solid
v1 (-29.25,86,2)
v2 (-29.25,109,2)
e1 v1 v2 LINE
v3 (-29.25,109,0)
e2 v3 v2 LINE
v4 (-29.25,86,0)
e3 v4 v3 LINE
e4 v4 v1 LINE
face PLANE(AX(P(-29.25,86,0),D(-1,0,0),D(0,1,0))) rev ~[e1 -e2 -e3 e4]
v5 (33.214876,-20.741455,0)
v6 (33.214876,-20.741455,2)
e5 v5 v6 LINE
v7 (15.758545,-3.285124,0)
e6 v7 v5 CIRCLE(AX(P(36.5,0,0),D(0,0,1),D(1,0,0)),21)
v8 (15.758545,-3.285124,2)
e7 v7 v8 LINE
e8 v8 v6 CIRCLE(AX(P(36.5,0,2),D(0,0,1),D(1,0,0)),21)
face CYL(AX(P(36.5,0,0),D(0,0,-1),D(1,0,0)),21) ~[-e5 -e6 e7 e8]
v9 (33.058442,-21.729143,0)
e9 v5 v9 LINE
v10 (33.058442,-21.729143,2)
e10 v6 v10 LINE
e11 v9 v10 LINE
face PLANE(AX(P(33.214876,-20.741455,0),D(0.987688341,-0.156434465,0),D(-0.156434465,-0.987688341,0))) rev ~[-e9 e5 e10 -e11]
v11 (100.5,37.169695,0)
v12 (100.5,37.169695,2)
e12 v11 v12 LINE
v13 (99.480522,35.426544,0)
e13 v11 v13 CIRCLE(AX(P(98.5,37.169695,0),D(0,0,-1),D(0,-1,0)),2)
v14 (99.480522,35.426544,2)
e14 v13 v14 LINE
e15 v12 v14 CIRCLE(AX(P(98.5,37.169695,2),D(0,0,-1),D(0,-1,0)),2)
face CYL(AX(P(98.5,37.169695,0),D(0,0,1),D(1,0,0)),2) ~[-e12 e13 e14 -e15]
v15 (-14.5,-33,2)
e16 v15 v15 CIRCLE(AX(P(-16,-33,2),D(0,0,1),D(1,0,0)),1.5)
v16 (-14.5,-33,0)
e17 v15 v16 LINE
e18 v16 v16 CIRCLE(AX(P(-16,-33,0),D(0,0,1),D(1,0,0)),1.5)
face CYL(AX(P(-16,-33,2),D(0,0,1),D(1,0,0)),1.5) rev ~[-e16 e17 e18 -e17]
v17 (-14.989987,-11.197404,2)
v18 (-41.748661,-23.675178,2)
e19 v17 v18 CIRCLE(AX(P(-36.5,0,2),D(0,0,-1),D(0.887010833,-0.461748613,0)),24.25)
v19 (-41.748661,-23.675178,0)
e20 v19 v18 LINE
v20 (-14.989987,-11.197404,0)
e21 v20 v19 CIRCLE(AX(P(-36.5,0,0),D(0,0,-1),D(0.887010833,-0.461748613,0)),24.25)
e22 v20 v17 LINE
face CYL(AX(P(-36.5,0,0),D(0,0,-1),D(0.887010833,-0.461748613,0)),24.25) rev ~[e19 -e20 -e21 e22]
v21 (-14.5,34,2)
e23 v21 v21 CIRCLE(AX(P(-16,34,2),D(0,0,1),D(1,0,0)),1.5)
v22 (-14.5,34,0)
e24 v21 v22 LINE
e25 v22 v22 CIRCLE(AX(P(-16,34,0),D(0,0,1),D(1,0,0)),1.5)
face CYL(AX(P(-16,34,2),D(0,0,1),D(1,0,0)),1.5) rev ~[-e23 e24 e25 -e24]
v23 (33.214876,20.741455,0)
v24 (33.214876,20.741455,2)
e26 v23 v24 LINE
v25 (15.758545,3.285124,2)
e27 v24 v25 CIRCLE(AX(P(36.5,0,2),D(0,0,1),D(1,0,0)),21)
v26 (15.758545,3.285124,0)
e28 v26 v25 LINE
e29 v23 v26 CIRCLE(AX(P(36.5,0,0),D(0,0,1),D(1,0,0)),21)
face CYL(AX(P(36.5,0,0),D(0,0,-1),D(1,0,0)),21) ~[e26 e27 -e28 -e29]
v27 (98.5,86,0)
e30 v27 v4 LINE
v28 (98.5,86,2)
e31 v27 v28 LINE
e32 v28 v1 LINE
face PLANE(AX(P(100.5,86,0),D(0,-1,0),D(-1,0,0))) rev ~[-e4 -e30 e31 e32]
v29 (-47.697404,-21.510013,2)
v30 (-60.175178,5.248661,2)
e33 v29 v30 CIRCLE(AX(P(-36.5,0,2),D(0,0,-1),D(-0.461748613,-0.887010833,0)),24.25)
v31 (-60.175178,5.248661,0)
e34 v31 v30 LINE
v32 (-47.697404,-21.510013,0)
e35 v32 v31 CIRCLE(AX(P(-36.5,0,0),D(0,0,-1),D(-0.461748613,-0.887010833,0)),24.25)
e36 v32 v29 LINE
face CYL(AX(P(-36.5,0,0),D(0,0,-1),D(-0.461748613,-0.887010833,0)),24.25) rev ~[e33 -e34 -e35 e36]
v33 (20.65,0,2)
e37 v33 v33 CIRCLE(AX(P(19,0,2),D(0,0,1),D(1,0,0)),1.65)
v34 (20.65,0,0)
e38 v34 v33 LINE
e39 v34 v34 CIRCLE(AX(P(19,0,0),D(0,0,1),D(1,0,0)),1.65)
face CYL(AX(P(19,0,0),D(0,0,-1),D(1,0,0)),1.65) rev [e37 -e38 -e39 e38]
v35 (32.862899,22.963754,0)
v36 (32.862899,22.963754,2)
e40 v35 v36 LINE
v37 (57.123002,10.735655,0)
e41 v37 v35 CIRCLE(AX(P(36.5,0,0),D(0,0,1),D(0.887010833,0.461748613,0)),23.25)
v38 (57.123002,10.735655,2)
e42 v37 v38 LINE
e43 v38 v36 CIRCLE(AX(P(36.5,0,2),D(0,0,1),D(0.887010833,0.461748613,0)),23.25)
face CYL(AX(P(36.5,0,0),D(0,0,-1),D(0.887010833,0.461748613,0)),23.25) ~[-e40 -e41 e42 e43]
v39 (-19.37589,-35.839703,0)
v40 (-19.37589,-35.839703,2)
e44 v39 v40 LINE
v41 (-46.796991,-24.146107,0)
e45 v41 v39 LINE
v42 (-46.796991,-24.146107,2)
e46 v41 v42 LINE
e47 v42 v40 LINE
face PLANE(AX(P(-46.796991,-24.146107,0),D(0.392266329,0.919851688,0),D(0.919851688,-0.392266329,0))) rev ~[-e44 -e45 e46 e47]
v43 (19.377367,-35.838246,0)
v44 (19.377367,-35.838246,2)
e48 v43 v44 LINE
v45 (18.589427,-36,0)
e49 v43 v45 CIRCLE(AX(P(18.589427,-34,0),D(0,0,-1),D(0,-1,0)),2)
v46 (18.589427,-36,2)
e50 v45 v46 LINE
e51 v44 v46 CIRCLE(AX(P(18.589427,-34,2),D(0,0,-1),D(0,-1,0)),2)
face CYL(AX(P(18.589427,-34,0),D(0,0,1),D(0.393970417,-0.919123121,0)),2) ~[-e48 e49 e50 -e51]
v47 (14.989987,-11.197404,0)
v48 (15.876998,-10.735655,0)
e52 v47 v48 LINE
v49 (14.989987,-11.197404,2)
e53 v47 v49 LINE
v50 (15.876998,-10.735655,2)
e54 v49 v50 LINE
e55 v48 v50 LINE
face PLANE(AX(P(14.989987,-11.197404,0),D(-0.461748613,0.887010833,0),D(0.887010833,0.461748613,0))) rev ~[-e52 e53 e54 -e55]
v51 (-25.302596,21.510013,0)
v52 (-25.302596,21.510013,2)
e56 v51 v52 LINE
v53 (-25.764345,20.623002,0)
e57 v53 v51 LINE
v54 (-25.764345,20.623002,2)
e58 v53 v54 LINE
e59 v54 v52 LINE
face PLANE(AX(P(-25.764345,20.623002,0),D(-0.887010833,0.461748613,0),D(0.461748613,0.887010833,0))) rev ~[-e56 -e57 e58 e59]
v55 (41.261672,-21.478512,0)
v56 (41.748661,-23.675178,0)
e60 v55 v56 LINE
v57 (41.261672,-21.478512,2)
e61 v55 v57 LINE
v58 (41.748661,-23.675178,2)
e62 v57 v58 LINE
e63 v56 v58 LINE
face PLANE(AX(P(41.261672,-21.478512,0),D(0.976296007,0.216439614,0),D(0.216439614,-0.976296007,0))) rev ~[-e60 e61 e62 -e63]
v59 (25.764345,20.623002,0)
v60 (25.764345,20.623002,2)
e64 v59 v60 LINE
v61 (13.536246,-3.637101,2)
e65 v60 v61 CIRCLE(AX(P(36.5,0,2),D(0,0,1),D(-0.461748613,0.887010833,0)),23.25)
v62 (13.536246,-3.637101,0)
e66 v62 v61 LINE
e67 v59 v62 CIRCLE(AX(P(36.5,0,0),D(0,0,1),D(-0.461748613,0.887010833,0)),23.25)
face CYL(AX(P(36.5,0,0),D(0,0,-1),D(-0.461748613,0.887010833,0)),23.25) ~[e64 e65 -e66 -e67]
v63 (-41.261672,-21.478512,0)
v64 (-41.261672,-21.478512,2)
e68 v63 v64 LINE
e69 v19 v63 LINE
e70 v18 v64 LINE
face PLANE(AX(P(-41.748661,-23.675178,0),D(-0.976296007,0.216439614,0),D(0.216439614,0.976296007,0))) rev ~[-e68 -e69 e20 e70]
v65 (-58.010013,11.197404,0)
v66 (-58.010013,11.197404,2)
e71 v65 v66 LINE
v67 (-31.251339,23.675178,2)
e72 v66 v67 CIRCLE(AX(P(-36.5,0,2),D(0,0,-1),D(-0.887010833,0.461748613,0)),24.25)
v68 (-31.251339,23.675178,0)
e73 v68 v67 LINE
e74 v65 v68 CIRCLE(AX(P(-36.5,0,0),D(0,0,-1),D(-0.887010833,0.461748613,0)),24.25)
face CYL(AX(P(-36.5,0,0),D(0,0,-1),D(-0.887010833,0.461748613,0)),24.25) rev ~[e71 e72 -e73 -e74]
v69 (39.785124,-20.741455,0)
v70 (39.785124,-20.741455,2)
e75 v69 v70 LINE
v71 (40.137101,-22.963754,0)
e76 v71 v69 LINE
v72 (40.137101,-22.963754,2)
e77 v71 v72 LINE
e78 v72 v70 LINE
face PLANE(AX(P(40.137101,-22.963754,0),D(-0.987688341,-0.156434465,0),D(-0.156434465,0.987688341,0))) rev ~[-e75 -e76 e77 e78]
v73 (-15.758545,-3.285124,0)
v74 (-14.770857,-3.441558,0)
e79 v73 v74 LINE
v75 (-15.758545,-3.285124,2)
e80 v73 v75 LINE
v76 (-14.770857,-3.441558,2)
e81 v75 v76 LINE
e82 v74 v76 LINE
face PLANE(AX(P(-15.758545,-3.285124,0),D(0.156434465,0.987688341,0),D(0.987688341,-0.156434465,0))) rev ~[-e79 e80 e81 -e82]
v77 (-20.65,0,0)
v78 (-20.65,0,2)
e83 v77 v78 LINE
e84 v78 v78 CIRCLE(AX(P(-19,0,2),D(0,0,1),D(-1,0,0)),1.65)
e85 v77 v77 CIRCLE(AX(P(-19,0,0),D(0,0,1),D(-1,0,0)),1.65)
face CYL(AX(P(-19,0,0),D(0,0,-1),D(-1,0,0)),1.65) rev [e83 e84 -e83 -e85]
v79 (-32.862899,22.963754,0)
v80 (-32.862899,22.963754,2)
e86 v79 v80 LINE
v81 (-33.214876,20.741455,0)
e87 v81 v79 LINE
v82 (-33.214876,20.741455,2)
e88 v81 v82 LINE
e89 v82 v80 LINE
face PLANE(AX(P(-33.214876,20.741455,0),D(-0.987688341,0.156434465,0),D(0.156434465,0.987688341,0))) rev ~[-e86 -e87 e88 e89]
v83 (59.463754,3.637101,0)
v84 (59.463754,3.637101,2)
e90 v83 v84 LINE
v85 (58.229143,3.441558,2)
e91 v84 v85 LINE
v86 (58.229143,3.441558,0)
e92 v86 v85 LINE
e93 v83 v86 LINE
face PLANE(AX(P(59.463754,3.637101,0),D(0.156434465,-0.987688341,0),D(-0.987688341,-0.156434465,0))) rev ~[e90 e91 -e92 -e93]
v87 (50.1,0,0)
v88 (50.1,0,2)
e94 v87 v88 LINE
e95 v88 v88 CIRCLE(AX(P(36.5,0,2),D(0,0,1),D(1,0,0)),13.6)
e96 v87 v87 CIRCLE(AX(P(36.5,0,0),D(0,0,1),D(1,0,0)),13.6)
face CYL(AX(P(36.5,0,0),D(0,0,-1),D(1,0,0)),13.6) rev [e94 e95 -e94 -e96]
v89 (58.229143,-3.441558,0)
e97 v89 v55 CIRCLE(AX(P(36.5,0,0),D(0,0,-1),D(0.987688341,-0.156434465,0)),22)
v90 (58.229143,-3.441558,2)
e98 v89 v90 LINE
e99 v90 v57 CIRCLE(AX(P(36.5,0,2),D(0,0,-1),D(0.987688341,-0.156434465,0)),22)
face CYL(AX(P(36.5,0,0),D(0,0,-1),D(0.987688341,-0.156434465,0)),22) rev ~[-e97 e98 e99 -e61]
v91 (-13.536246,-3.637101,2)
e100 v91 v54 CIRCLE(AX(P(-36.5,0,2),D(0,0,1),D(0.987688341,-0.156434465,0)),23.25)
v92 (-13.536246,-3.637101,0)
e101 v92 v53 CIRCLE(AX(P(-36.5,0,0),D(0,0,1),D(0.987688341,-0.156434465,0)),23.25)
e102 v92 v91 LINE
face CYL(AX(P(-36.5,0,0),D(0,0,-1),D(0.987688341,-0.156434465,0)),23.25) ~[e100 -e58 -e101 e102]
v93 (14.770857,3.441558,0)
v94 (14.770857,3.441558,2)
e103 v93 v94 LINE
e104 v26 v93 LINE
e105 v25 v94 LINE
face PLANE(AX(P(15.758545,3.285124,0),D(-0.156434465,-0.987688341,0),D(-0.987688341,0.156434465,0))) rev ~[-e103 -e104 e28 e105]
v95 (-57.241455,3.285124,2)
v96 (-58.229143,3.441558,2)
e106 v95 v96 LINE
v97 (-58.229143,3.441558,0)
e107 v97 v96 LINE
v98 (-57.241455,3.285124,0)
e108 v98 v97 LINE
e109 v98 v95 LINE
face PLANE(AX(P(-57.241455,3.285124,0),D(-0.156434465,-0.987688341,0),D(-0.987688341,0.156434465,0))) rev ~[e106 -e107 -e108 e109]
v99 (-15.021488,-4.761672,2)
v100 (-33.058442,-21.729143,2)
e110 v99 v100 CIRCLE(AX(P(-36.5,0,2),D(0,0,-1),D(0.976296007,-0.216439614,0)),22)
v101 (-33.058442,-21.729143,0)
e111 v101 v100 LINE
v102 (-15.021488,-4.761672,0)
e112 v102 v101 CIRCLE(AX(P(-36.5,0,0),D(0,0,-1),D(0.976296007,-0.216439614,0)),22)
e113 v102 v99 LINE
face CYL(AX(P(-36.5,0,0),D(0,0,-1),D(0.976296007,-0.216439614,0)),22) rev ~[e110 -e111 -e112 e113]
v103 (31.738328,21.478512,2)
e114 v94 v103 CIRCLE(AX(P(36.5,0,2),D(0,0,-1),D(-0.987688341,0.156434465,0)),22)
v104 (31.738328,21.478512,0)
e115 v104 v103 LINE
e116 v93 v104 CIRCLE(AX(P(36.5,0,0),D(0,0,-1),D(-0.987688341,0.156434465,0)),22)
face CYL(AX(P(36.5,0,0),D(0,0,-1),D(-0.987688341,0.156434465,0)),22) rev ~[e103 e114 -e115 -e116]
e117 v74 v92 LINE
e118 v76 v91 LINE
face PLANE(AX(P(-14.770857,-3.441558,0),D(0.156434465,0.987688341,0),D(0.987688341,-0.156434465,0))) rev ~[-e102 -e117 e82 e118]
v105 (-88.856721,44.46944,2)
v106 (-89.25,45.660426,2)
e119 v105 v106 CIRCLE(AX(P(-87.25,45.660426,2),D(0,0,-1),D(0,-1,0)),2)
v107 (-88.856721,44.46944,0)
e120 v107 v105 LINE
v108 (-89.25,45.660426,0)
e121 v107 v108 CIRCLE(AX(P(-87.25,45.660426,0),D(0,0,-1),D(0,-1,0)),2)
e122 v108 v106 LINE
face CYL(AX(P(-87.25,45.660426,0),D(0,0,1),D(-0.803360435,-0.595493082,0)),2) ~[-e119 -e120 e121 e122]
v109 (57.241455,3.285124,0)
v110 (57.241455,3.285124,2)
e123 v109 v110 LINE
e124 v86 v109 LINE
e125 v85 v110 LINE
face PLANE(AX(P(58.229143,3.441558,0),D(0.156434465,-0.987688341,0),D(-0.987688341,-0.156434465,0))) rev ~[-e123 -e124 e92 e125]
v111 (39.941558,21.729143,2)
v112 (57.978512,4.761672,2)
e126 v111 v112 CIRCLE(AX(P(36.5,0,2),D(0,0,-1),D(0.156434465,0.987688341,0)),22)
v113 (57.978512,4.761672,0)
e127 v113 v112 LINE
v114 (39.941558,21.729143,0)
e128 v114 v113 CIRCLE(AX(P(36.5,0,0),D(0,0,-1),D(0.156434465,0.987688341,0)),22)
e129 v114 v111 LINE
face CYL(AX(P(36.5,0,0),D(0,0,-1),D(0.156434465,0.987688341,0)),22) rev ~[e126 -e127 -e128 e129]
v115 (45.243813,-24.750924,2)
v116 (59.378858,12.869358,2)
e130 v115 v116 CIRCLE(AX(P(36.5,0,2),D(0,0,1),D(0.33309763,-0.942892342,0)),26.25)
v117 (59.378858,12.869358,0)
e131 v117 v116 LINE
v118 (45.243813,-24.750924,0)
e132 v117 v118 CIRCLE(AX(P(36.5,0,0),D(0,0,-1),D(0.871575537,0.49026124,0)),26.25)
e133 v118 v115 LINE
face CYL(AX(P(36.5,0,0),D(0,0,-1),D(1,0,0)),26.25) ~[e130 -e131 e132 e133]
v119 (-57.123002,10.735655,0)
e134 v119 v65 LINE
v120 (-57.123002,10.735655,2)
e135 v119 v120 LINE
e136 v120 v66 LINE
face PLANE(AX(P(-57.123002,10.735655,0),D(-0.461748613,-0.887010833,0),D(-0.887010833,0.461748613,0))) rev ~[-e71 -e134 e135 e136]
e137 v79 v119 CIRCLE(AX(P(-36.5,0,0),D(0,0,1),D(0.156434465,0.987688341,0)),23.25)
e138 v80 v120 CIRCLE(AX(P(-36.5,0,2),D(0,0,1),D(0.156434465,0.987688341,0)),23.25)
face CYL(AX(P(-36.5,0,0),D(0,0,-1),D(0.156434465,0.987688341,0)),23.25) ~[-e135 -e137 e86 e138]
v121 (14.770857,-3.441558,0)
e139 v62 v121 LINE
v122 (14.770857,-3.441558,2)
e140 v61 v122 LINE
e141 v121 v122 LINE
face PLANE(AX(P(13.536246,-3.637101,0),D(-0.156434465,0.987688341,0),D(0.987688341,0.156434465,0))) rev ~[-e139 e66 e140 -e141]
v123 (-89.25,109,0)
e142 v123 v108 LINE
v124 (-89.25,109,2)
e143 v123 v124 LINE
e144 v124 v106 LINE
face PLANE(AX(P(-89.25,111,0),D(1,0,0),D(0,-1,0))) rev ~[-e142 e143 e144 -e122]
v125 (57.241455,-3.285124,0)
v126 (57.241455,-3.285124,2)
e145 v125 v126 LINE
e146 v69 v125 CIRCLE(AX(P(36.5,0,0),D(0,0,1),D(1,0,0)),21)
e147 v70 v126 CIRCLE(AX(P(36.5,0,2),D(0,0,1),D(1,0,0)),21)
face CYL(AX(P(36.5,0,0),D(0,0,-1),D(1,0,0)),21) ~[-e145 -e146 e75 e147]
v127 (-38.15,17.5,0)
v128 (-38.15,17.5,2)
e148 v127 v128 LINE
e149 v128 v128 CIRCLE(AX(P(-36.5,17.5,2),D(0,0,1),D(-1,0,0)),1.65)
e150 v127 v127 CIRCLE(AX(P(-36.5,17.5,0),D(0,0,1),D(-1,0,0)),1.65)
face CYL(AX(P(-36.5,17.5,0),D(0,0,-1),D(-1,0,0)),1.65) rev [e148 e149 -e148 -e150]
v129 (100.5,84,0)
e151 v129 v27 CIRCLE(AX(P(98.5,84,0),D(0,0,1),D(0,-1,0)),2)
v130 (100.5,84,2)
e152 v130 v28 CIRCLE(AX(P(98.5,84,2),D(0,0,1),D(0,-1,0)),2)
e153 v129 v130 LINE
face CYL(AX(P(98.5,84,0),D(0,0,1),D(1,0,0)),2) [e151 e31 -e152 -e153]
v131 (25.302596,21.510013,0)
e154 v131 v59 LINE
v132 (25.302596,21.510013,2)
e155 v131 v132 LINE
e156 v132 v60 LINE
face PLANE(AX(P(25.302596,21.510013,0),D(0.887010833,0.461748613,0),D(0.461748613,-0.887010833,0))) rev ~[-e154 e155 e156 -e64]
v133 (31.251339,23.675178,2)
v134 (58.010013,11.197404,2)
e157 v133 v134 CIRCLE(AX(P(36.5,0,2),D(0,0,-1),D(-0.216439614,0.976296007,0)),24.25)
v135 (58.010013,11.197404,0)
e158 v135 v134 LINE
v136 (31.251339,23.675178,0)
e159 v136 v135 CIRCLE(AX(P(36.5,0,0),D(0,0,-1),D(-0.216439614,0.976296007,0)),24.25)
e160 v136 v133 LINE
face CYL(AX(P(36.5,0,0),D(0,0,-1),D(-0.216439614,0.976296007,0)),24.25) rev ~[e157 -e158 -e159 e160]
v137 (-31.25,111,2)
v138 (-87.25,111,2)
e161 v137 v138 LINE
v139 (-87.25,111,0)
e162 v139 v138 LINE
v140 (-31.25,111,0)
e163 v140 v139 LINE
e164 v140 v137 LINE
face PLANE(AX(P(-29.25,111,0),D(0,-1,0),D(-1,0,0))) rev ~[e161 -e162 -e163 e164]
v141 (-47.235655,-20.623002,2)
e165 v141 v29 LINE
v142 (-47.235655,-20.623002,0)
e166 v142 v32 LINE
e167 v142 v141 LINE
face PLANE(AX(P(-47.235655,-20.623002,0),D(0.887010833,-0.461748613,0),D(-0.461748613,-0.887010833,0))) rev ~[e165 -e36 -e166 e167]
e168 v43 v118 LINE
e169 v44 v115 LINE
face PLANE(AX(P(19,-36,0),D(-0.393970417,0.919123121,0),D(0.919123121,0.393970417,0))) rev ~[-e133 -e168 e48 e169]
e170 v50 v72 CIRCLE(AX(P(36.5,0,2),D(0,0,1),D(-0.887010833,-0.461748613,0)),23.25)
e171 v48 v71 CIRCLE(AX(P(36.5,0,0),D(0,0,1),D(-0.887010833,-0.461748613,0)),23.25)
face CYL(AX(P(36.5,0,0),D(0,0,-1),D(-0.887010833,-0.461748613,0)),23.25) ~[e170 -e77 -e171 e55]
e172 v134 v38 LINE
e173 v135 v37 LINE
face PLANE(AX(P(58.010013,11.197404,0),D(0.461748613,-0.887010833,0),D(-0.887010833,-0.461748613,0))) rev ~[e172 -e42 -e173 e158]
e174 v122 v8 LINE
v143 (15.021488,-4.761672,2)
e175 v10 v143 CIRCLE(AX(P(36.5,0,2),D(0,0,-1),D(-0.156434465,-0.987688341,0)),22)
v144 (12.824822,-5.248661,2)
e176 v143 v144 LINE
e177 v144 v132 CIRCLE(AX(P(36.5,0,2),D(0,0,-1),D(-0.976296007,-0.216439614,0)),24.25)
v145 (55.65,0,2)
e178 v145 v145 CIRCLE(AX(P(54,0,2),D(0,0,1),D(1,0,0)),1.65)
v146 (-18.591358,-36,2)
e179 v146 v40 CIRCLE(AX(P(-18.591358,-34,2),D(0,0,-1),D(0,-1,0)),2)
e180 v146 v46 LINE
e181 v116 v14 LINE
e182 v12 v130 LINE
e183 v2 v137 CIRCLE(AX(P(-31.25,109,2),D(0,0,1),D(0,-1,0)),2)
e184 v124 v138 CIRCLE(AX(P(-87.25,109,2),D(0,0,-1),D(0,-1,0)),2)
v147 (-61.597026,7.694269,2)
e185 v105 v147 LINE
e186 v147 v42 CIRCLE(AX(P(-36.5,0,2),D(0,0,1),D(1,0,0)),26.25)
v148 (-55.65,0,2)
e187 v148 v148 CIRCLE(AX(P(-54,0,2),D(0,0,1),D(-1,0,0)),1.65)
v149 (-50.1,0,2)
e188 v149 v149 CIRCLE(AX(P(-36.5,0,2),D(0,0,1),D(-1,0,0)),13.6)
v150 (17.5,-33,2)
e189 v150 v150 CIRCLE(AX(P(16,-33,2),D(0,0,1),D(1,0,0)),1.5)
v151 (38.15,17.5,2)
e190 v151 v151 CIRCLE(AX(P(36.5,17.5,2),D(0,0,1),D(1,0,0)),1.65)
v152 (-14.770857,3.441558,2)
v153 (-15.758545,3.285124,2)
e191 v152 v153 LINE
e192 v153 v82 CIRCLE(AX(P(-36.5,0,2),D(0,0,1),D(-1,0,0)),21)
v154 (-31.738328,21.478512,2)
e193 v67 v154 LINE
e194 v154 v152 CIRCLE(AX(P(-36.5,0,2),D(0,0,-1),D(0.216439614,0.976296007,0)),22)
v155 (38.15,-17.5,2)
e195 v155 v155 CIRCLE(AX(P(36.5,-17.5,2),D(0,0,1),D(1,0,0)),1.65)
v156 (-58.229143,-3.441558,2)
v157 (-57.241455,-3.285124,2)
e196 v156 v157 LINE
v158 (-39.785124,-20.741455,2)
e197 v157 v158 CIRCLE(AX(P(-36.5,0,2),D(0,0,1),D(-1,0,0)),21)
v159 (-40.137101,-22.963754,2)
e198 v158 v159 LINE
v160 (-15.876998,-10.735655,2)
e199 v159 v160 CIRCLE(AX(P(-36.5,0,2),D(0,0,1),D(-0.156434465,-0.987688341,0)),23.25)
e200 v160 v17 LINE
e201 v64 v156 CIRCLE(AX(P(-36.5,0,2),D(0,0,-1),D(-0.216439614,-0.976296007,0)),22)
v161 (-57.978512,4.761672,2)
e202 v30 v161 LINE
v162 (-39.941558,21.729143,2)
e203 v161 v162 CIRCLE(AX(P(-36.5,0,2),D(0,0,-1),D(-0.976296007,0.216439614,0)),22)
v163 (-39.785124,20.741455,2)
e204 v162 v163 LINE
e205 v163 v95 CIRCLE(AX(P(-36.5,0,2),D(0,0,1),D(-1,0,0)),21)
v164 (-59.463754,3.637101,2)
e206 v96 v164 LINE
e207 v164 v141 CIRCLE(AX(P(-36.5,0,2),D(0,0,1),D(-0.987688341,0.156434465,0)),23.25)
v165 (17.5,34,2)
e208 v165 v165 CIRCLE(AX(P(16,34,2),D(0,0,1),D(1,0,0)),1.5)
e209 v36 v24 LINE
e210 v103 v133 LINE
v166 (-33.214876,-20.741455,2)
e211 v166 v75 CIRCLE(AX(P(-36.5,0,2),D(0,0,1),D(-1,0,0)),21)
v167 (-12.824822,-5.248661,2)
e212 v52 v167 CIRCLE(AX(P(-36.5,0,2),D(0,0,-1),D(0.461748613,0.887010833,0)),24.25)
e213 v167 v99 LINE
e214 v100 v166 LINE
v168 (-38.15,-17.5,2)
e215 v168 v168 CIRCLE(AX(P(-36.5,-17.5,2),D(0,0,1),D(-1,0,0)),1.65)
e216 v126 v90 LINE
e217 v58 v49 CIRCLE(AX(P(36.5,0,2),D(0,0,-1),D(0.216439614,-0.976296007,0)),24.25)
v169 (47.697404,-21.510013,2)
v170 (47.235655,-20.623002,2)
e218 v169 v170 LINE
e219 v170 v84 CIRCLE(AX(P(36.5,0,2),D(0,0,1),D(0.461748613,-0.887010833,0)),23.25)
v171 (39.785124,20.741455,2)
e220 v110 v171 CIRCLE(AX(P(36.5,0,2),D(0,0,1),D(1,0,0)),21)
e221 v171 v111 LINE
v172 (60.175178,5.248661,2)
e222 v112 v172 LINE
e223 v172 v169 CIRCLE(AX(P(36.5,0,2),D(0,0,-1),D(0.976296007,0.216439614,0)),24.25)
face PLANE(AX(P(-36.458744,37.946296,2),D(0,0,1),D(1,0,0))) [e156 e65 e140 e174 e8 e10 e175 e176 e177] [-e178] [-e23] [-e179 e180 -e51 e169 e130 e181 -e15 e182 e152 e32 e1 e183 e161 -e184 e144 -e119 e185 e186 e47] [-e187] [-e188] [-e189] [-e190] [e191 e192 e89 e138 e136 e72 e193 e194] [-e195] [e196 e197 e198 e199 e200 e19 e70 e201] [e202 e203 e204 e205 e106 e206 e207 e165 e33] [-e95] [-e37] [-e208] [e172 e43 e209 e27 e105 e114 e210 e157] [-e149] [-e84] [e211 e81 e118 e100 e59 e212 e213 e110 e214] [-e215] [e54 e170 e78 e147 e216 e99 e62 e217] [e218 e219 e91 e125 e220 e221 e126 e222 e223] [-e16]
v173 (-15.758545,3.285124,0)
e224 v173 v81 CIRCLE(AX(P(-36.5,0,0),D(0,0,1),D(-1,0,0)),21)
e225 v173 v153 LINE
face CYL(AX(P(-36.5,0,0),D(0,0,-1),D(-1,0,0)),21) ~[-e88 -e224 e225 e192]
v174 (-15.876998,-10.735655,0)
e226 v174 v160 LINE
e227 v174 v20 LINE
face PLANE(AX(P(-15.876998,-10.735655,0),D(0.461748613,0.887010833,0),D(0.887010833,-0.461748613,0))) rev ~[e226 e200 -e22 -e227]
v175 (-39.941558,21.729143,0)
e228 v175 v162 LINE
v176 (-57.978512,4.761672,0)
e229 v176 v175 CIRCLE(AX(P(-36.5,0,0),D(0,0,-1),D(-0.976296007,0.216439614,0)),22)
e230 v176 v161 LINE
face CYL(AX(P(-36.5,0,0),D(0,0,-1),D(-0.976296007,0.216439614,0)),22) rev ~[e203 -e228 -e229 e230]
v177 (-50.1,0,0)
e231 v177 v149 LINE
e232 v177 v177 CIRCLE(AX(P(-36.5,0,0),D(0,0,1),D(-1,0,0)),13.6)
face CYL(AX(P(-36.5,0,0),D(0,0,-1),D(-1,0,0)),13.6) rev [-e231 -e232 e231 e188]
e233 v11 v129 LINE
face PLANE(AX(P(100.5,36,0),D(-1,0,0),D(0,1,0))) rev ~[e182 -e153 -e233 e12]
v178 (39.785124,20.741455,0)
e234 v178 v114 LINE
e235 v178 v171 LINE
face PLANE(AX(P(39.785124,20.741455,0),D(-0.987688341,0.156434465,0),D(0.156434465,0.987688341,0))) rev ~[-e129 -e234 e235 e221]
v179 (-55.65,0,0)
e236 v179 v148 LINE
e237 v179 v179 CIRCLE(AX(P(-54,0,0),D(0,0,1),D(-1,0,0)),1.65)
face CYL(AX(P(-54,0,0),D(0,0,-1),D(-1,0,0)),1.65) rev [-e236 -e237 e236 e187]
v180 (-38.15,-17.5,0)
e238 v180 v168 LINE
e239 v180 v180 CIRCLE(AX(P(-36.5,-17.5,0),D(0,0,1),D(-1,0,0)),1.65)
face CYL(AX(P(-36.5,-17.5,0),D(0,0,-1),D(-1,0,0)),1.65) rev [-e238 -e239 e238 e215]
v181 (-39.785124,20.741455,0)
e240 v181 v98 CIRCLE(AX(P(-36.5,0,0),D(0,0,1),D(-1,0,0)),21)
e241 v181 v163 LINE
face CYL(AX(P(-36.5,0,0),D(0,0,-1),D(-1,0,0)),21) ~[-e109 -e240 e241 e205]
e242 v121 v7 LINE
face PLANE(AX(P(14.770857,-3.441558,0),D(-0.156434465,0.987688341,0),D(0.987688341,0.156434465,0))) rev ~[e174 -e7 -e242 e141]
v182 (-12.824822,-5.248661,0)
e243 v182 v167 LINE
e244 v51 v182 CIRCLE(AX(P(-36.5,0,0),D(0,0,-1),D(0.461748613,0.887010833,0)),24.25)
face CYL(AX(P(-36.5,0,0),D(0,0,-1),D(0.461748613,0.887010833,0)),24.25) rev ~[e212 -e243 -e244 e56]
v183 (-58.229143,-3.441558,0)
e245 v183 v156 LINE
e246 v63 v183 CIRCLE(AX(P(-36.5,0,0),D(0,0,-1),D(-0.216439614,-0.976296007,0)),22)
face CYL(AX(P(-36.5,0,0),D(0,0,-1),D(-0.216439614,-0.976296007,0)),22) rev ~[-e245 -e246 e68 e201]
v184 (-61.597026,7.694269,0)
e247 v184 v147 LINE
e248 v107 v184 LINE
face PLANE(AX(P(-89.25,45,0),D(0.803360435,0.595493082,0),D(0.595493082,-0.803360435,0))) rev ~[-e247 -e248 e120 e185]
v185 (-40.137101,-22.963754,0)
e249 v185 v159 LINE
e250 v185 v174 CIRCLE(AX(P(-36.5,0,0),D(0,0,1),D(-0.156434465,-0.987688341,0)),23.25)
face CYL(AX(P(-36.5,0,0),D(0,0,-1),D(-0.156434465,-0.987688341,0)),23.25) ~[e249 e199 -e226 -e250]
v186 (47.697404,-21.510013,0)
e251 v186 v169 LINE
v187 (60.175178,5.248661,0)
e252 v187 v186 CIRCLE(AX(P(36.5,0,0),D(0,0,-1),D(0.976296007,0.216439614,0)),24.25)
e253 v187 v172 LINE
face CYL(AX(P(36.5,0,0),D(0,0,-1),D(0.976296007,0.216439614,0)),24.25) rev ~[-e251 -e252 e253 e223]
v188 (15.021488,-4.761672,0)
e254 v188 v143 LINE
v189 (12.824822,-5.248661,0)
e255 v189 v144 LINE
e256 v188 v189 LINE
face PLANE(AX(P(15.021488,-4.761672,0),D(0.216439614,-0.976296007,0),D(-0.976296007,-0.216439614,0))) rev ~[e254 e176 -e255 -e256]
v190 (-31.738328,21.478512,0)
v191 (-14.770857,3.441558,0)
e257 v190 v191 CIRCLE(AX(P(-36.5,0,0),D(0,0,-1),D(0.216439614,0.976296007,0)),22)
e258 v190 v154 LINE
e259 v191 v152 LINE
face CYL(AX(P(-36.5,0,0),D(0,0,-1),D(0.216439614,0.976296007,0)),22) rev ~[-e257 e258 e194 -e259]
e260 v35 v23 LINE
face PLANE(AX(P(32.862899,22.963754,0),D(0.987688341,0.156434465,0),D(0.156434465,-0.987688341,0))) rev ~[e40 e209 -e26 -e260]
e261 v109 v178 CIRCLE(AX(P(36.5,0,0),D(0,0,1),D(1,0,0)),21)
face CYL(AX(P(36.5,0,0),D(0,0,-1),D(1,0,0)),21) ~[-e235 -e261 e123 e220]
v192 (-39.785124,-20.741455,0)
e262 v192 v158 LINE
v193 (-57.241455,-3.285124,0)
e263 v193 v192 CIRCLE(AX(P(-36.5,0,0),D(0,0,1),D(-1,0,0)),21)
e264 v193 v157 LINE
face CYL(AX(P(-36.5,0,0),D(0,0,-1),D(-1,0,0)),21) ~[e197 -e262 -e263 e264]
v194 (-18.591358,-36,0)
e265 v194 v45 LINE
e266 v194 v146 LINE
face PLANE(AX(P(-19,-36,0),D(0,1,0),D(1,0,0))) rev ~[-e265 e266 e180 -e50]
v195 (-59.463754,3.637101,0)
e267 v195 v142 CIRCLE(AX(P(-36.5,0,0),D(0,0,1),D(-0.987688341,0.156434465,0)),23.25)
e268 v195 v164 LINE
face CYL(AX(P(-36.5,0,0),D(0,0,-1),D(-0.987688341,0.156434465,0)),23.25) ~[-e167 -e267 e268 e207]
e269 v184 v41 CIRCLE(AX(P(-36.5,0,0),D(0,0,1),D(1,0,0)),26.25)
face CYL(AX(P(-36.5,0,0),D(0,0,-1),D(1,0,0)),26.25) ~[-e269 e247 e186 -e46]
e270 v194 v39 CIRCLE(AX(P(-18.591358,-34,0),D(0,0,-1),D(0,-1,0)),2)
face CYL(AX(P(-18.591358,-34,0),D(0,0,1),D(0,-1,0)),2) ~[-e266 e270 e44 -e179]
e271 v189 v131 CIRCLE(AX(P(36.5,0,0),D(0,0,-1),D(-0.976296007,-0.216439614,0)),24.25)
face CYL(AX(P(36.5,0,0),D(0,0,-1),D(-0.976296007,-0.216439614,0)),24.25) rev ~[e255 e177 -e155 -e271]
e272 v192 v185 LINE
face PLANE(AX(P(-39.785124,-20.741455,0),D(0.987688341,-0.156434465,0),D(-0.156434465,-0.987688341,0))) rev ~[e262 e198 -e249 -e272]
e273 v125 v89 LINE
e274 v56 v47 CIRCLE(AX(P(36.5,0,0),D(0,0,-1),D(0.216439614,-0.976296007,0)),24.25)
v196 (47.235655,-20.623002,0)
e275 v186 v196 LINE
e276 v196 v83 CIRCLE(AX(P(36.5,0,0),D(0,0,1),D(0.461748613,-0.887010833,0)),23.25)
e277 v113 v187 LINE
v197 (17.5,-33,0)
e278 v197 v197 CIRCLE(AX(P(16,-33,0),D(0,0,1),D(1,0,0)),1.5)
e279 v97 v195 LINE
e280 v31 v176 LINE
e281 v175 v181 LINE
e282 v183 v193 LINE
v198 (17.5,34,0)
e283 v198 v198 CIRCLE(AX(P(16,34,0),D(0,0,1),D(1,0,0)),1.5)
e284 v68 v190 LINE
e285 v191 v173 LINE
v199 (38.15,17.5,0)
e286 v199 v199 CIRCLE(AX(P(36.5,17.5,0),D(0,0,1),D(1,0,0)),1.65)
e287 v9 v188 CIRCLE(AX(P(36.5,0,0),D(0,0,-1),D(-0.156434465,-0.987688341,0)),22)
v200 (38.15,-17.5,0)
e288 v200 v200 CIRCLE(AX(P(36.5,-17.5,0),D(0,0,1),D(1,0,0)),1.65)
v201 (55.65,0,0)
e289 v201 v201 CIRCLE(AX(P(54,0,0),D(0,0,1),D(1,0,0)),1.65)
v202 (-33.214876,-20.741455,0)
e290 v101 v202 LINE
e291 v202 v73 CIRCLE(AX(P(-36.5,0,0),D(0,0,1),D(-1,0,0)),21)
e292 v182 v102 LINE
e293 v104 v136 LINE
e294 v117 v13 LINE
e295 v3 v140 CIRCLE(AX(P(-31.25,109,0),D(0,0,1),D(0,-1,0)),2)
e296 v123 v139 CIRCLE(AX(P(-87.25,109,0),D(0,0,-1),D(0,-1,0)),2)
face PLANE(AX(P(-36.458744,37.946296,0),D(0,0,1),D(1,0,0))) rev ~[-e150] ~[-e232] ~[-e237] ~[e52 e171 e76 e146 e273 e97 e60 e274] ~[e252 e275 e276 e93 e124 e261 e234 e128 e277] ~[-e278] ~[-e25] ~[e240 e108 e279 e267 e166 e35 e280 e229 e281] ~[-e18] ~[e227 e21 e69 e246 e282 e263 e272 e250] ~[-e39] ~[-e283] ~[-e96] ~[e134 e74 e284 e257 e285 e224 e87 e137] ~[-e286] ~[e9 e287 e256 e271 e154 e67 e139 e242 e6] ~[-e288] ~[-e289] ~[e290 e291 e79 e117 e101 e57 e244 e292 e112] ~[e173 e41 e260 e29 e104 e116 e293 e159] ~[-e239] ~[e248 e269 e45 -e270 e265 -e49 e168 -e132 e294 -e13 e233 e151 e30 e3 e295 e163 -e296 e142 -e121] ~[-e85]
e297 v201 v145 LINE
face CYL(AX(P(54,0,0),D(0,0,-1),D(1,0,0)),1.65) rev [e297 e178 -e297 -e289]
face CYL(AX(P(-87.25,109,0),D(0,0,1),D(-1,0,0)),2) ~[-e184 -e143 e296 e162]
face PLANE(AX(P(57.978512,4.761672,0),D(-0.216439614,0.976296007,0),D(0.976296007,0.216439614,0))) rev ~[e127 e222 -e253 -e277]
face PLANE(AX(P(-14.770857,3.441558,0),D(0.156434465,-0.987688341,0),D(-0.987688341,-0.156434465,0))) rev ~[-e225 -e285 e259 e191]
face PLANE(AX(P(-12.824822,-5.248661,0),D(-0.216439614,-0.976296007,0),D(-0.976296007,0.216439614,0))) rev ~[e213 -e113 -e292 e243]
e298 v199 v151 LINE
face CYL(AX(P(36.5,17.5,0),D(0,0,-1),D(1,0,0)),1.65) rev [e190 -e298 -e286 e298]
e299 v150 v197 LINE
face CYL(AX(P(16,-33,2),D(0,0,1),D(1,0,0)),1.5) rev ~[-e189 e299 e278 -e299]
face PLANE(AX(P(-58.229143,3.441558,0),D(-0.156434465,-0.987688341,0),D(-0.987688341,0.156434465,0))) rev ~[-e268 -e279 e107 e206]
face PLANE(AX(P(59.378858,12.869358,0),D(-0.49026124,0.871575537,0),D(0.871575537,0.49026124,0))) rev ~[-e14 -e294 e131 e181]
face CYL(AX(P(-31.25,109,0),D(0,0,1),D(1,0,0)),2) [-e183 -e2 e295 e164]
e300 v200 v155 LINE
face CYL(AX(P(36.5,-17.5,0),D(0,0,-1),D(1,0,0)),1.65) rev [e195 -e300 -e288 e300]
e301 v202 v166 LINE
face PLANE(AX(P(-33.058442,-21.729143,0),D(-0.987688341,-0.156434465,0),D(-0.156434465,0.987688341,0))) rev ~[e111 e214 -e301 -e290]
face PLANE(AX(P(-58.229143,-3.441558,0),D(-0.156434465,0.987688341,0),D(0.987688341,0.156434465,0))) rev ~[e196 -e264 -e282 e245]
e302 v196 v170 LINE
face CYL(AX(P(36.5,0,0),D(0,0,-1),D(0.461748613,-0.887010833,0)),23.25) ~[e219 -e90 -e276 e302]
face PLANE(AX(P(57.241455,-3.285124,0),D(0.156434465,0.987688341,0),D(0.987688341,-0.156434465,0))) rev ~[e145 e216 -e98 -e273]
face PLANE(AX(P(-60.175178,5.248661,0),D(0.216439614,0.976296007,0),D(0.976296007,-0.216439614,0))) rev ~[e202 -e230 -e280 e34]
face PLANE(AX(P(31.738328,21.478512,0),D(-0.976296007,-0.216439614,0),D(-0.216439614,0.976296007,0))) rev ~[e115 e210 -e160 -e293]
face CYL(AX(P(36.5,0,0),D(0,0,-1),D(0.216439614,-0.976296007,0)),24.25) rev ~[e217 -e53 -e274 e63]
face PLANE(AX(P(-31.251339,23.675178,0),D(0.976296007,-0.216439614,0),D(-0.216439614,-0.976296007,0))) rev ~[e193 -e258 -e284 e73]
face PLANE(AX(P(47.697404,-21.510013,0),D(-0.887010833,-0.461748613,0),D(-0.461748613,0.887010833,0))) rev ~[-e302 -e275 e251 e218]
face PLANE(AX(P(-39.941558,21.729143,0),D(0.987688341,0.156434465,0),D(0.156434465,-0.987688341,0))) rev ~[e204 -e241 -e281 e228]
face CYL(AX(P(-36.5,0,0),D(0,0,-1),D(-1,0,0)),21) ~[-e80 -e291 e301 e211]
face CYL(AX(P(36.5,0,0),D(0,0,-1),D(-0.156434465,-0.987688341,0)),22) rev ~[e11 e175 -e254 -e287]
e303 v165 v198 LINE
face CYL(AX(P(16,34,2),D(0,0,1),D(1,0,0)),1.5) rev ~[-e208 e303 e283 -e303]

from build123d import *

# Parameters (mm, degrees)
SKETCH_1_R          = 21
SKETCH_1_R_2        = 13.6
SKETCH_1_R_3        = 1.65
EXTRUDE_1_DEPTH     = 2
EXTRUDE_1_2_DEPTH   = 2
SKETCH_2_R          = 26.25
EXTRUDE_3_DEPTH     = 2
EXTRUDE_4_DEPTH     = 2
FILLET_1_R          = 2
SKETCH_4_R          = 1.5
CUT_EXTRUDE_1_DEPTH = 2


with BuildPart() as part:
    # 草图1 → 凸台-拉伸1 (new body)
    with BuildSketch(Plane.XY):
        with Locations((36.5, 0)):
            Circle(SKETCH_1_R)
        with Locations((36.5, 0)):
            Circle(SKETCH_1_R_2, mode=Mode.SUBTRACT)
        with Locations((19, 0)):
            Circle(SKETCH_1_R_3, mode=Mode.SUBTRACT)
        with Locations((36.5, 17.5)):
            Circle(SKETCH_1_R_3, mode=Mode.SUBTRACT)
        with Locations((54, 0)):
            Circle(SKETCH_1_R_3, mode=Mode.SUBTRACT)
        with Locations((36.5, -17.5)):
            Circle(SKETCH_1_R_3, mode=Mode.SUBTRACT)
    extrude(amount=EXTRUDE_1_DEPTH)

    # 草图2 → 凸台-拉伸3 (add)
    # profile 1 of 4: a face of its own
    with BuildSketch(Plane.XY):
        with Locations((36.5, 0)):
            Circle(SKETCH_2_R)
        with BuildLine():
            Line((58.229143493, 3.441558231), (57.241455152, 3.285123766))
            ThreePointArc((57.241455152, 3.285123766), (57.435264008, 1.64764101), (57.5, 0))
            ThreePointArc((57.5, 0), (57.435264008, -1.64764101), (57.241455152, -3.285123766))
            Line((57.241455152, -3.285123766), (58.229143493, -3.441558231))
            ThreePointArc((58.229143493, -3.441558231), (52.524161337, -15.074025787), (41.261671507, -21.478512157))
            Line((41.261671507, -21.478512157), (41.748660638, -23.675178173))
            ThreePointArc((41.748660638, -23.675178173), (26.251507153, -21.977963836), (14.989987295, -11.197403871))
            Line((14.989987295, -11.197403871), (15.876998129, -10.735655258))
            ThreePointArc((15.876998129, -10.735655258), (26.035211246, -20.761760434), (40.137101312, -22.963753919))
            Line((40.137101312, -22.963753919), (39.785123766, -20.741455152))
            ThreePointArc((39.785123766, -20.741455152), (36.5, -21), (33.214876234, -20.741455152))
            Line((33.214876234, -20.741455152), (33.058441769, -21.729143493))
            ThreePointArc((33.058441769, -21.729143493), (21.425974213, -16.024161337), (15.021487843, -4.761671507))
            Line((15.021487843, -4.761671507), (12.824821827, -5.248660638))
            ThreePointArc((12.824821827, -5.248660638), (14.522036164, 10.248492847), (25.302596129, 21.510012705))
            Line((25.302596129, 21.510012705), (25.764344742, 20.623001871))
            ThreePointArc((25.764344742, 20.623001871), (15.738239566, 10.464788754), (13.536246081, -3.637101312))
            Line((13.536246081, -3.637101312), (14.770856507, -3.441558231))
            Line((14.770856507, -3.441558231), (15.758544848, -3.285123766))
            ThreePointArc((15.758544848, -3.285123766), (15.5, 0), (15.758544848, 3.285123766))
            Line((15.758544848, 3.285123766), (14.770856507, 3.441558231))
            ThreePointArc((14.770856507, 3.441558231), (20.475838663, 15.074025787), (31.738328493, 21.478512157))
            Line((31.738328493, 21.478512157), (31.251339362, 23.675178173))
            ThreePointArc((31.251339362, 23.675178173), (46.748492847, 21.977963836), (58.010012705, 11.197403871))
            ThreePointArc((58.010012705, 11.197403871), (59.287546054, 8.293988476), (60.175178173, 5.248660638))
            ThreePointArc((60.175178173, 5.248660638), (58.477963836, -10.248492847), (47.697403871, -21.510012705))
            Line((47.697403871, -21.510012705), (47.235655258, -20.623001871))
            ThreePointArc((47.235655258, -20.623001871), (57.261760434, -10.464788754), (59.463753919, 3.637101312))
            Line((59.463753919, 3.637101312), (58.229143493, 3.441558231))
        make_face(mode=Mode.SUBTRACT)
    # profile 2 of 4: a face of its own
    with BuildSketch(Plane.XY):
        with BuildLine():
            Line((39.785123766, 20.741455152), (39.941558231, 21.729143493))
            ThreePointArc((39.941558231, 21.729143493), (51.574025787, 16.024161337), (57.978512157, 4.761671507))
            Line((57.978512157, 4.761671507), (60.175178173, 5.248660638))
            ThreePointArc((60.175178173, 5.248660638), (59.287546054, 8.293988476), (58.010012705, 11.197403871))
            Line((58.010012705, 11.197403871), (57.123001871, 10.735655258))
            ThreePointArc((57.123001871, 10.735655258), (46.964788754, 20.761760434), (32.862898688, 22.963753919))
            Line((32.862898688, 22.963753919), (33.214876234, 20.741455152))
            ThreePointArc((33.214876234, 20.741455152), (36.5, 21), (39.785123766, 20.741455152))
        make_face()
    # profile 3 of 4: a face of its own
    with BuildSketch(Plane.XY):
        with Locations((-36.5, 0)):
            Circle(SKETCH_2_R)
        with BuildLine():
            ThreePointArc((-31.738328493, 21.478512157), (-20.475838663, 15.074025787), (-14.770856507, 3.441558231))
            Line((-14.770856507, 3.441558231), (-15.758544848, 3.285123766))
            ThreePointArc((-15.758544848, 3.285123766), (-15.564735992, 1.64764101), (-15.5, 0))
            ThreePointArc((-15.5, 0), (-15.564735992, -1.64764101), (-15.758544848, -3.285123766))
            Line((-15.758544848, -3.285123766), (-14.770856507, -3.441558231))
            Line((-14.770856507, -3.441558231), (-13.536246081, -3.637101312))
            ThreePointArc((-13.536246081, -3.637101312), (-15.738239566, 10.464788754), (-25.764344742, 20.623001871))
            Line((-25.764344742, 20.623001871), (-25.302596129, 21.510012705))
            ThreePointArc((-25.302596129, 21.510012705), (-14.522036164, 10.248492847), (-12.824821827, -5.248660638))
            Line((-12.824821827, -5.248660638), (-15.021487843, -4.761671507))
            ThreePointArc((-15.021487843, -4.761671507), (-21.425974213, -16.024161337), (-33.058441769, -21.729143493))
            Line((-33.058441769, -21.729143493), (-33.214876234, -20.741455152))
            ThreePointArc((-33.214876234, -20.741455152), (-36.5, -21), (-39.785123766, -20.741455152))
            Line((-39.785123766, -20.741455152), (-40.137101312, -22.963753919))
            ThreePointArc((-40.137101312, -22.963753919), (-26.035211246, -20.761760434), (-15.876998129, -10.735655258))
            Line((-15.876998129, -10.735655258), (-14.989987295, -11.197403871))
            ThreePointArc((-14.989987295, -11.197403871), (-26.251507153, -21.977963836), (-41.748660638, -23.675178173))
            Line((-41.748660638, -23.675178173), (-41.261671507, -21.478512157))
            ThreePointArc((-41.261671507, -21.478512157), (-52.524161337, -15.074025787), (-58.229143493, -3.441558231))
            Line((-58.229143493, -3.441558231), (-57.241455152, -3.285123766))
            ThreePointArc((-57.241455152, -3.285123766), (-57.5, 0), (-57.241455152, 3.285123766))
            Line((-57.241455152, 3.285123766), (-58.229143493, 3.441558231))
            Line((-58.229143493, 3.441558231), (-59.463753919, 3.637101312))
            ThreePointArc((-59.463753919, 3.637101312), (-57.261760434, -10.464788754), (-47.235655258, -20.623001871))
            Line((-47.235655258, -20.623001871), (-47.697403871, -21.510012705))
            ThreePointArc((-47.697403871, -21.510012705), (-58.477963836, -10.248492847), (-60.175178173, 5.248660638))
            ThreePointArc((-60.175178173, 5.248660638), (-59.287546054, 8.293988476), (-58.010012705, 11.197403871))
            ThreePointArc((-58.010012705, 11.197403871), (-46.748492847, 21.977963836), (-31.251339362, 23.675178173))
            Line((-31.251339362, 23.675178173), (-31.738328493, 21.478512157))
        make_face(mode=Mode.SUBTRACT)
    # profile 4 of 4: a face of its own
    with BuildSketch(Plane.XY):
        with BuildLine():
            ThreePointArc((-39.785123766, 20.741455152), (-36.5, 21), (-33.214876234, 20.741455152))
            Line((-33.214876234, 20.741455152), (-32.862898688, 22.963753919))
            ThreePointArc((-32.862898688, 22.963753919), (-46.964788754, 20.761760434), (-57.123001871, 10.735655258))
            Line((-57.123001871, 10.735655258), (-58.010012705, 11.197403871))
            ThreePointArc((-58.010012705, 11.197403871), (-59.287546054, 8.293988476), (-60.175178173, 5.248660638))
            Line((-60.175178173, 5.248660638), (-57.978512157, 4.761671507))
            ThreePointArc((-57.978512157, 4.761671507), (-51.574025787, 16.024161337), (-39.941558231, 21.729143493))
            Line((-39.941558231, 21.729143493), (-39.785123766, 20.741455152))
        make_face()
    extrude(amount=EXTRUDE_3_DEPTH)


with BuildPart() as body_2:
    # 草图1 → Extrude 1 2 (new body)
    with BuildSketch(Plane.XY):
        with Locations(Location((-36.5, 0, 0), (0, 0, 180))):
            Circle(SKETCH_1_R)
        with Locations(Location((-36.5, -17.5, 0), (0, 0, 180))):
            Circle(SKETCH_1_R_3, mode=Mode.SUBTRACT)
        with Locations(Location((-54, 0, 0), (0, 0, 180))):
            Circle(SKETCH_1_R_3, mode=Mode.SUBTRACT)
        with Locations(Location((-36.5, 17.5, 0), (0, 0, 180))):
            Circle(SKETCH_1_R_3, mode=Mode.SUBTRACT)
        with Locations(Location((-19, 0, 0), (0, 0, 180))):
            Circle(SKETCH_1_R_3, mode=Mode.SUBTRACT)
        with Locations(Location((-36.5, 0, 0), (0, 0, 180))):
            Circle(SKETCH_1_R_2, mode=Mode.SUBTRACT)
    extrude(amount=EXTRUDE_1_2_DEPTH)


with BuildPart() as extrude_3_piece_1:
    # of the separate pieces the step leaves, piece 1, a body of its own (extrude_3_pieces)
    add(part.part.solids().sort_by_distance((57.241455152, 3.285123766, 0))[0])



with BuildPart() as extrude_3_piece_2:
    # of the separate pieces the step leaves, piece 2, a body of its own (extrude_3_pieces)
    add(part.part.solids().sort_by_distance((-10.25, 0, 0))[0])


with BuildPart() as extrude_3_piece_1_1:
    add(extrude_3_piece_1.part)

    add(extrude_3_piece_2.part)  # 凸台-拉伸4 merges 凸台-拉伸3 piece 2

    add(body_2.part)  # 凸台-拉伸4 merges body 2
    # 草图3 → 凸台-拉伸4 (add)
    with BuildSketch(Plane.XY):
        with BuildLine():
            Line((0, -36), (0, 0))
            Line((0, 0), (0, 86))
            Line((0, 86), (-29.25, 86))
            Line((-29.25, 86), (-29.25, 111))
            Line((-29.25, 111), (-89.25, 111))
            Line((-89.25, 111), (-89.25, 45))
            Line((-89.25, 45), (-61.597026322, 7.694268631))
            ThreePointArc((-61.597026322, 7.694268631), (-32.609912659, 25.960156403), (-10.25, 0))
            ThreePointArc((-10.25, 0), (-22.029919095, -21.90158119), (-46.796991132, -24.1461068))
            Line((-46.796991132, -24.1461068), (-19, -36))
            Line((-19, -36), (0, -36))
        make_face()
        with BuildLine():
            Line((0, 86), (0, 0))
            Line((0, 0), (0, -36))
            Line((0, -36), (19, -36))
            Line((19, -36), (45.243812785, -24.750923982))
            ThreePointArc((45.243812785, -24.750923982), (11.927256564, 9.232701664), (59.37885785, 12.86935754))
            Line((59.37885785, 12.86935754), (100.5, 36))
            Line((100.5, 36), (100.5, 86))
            Line((100.5, 86), (29.25, 86))
            Line((29.25, 86), (0, 86))
        make_face()
    extrude(amount=EXTRUDE_4_DEPTH)

    # 圆角1
    fillet_1_edges = [extrude_3_piece_1_1.edges().sort_by_distance(p)[0] for p in [
        (-19, -36, 1),
        (19, -36, 1),
        (100.5, 36, 1),
        (100.5, 86, 1),
        (-29.25, 111, 1),
        (-89.25, 111, 1),
        (-89.25, 45, 1),
    ]]
    fillet(fillet_1_edges, radius=FILLET_1_R)

    # 草图4 → 切除-拉伸1 (cut)
    with BuildSketch(Plane.XY.offset(2)):
        with Locations((-16, -33)):
            Circle(SKETCH_4_R)
        with Locations((16, -33)):
            Circle(SKETCH_4_R)
        with Locations((-16, 34)):
            Circle(SKETCH_4_R)
        with Locations((16, 34)):
            Circle(SKETCH_4_R)
    extrude(amount=-CUT_EXTRUDE_1_DEPTH, mode=Mode.SUBTRACT)


solid = extrude_3_piece_1_1.part
